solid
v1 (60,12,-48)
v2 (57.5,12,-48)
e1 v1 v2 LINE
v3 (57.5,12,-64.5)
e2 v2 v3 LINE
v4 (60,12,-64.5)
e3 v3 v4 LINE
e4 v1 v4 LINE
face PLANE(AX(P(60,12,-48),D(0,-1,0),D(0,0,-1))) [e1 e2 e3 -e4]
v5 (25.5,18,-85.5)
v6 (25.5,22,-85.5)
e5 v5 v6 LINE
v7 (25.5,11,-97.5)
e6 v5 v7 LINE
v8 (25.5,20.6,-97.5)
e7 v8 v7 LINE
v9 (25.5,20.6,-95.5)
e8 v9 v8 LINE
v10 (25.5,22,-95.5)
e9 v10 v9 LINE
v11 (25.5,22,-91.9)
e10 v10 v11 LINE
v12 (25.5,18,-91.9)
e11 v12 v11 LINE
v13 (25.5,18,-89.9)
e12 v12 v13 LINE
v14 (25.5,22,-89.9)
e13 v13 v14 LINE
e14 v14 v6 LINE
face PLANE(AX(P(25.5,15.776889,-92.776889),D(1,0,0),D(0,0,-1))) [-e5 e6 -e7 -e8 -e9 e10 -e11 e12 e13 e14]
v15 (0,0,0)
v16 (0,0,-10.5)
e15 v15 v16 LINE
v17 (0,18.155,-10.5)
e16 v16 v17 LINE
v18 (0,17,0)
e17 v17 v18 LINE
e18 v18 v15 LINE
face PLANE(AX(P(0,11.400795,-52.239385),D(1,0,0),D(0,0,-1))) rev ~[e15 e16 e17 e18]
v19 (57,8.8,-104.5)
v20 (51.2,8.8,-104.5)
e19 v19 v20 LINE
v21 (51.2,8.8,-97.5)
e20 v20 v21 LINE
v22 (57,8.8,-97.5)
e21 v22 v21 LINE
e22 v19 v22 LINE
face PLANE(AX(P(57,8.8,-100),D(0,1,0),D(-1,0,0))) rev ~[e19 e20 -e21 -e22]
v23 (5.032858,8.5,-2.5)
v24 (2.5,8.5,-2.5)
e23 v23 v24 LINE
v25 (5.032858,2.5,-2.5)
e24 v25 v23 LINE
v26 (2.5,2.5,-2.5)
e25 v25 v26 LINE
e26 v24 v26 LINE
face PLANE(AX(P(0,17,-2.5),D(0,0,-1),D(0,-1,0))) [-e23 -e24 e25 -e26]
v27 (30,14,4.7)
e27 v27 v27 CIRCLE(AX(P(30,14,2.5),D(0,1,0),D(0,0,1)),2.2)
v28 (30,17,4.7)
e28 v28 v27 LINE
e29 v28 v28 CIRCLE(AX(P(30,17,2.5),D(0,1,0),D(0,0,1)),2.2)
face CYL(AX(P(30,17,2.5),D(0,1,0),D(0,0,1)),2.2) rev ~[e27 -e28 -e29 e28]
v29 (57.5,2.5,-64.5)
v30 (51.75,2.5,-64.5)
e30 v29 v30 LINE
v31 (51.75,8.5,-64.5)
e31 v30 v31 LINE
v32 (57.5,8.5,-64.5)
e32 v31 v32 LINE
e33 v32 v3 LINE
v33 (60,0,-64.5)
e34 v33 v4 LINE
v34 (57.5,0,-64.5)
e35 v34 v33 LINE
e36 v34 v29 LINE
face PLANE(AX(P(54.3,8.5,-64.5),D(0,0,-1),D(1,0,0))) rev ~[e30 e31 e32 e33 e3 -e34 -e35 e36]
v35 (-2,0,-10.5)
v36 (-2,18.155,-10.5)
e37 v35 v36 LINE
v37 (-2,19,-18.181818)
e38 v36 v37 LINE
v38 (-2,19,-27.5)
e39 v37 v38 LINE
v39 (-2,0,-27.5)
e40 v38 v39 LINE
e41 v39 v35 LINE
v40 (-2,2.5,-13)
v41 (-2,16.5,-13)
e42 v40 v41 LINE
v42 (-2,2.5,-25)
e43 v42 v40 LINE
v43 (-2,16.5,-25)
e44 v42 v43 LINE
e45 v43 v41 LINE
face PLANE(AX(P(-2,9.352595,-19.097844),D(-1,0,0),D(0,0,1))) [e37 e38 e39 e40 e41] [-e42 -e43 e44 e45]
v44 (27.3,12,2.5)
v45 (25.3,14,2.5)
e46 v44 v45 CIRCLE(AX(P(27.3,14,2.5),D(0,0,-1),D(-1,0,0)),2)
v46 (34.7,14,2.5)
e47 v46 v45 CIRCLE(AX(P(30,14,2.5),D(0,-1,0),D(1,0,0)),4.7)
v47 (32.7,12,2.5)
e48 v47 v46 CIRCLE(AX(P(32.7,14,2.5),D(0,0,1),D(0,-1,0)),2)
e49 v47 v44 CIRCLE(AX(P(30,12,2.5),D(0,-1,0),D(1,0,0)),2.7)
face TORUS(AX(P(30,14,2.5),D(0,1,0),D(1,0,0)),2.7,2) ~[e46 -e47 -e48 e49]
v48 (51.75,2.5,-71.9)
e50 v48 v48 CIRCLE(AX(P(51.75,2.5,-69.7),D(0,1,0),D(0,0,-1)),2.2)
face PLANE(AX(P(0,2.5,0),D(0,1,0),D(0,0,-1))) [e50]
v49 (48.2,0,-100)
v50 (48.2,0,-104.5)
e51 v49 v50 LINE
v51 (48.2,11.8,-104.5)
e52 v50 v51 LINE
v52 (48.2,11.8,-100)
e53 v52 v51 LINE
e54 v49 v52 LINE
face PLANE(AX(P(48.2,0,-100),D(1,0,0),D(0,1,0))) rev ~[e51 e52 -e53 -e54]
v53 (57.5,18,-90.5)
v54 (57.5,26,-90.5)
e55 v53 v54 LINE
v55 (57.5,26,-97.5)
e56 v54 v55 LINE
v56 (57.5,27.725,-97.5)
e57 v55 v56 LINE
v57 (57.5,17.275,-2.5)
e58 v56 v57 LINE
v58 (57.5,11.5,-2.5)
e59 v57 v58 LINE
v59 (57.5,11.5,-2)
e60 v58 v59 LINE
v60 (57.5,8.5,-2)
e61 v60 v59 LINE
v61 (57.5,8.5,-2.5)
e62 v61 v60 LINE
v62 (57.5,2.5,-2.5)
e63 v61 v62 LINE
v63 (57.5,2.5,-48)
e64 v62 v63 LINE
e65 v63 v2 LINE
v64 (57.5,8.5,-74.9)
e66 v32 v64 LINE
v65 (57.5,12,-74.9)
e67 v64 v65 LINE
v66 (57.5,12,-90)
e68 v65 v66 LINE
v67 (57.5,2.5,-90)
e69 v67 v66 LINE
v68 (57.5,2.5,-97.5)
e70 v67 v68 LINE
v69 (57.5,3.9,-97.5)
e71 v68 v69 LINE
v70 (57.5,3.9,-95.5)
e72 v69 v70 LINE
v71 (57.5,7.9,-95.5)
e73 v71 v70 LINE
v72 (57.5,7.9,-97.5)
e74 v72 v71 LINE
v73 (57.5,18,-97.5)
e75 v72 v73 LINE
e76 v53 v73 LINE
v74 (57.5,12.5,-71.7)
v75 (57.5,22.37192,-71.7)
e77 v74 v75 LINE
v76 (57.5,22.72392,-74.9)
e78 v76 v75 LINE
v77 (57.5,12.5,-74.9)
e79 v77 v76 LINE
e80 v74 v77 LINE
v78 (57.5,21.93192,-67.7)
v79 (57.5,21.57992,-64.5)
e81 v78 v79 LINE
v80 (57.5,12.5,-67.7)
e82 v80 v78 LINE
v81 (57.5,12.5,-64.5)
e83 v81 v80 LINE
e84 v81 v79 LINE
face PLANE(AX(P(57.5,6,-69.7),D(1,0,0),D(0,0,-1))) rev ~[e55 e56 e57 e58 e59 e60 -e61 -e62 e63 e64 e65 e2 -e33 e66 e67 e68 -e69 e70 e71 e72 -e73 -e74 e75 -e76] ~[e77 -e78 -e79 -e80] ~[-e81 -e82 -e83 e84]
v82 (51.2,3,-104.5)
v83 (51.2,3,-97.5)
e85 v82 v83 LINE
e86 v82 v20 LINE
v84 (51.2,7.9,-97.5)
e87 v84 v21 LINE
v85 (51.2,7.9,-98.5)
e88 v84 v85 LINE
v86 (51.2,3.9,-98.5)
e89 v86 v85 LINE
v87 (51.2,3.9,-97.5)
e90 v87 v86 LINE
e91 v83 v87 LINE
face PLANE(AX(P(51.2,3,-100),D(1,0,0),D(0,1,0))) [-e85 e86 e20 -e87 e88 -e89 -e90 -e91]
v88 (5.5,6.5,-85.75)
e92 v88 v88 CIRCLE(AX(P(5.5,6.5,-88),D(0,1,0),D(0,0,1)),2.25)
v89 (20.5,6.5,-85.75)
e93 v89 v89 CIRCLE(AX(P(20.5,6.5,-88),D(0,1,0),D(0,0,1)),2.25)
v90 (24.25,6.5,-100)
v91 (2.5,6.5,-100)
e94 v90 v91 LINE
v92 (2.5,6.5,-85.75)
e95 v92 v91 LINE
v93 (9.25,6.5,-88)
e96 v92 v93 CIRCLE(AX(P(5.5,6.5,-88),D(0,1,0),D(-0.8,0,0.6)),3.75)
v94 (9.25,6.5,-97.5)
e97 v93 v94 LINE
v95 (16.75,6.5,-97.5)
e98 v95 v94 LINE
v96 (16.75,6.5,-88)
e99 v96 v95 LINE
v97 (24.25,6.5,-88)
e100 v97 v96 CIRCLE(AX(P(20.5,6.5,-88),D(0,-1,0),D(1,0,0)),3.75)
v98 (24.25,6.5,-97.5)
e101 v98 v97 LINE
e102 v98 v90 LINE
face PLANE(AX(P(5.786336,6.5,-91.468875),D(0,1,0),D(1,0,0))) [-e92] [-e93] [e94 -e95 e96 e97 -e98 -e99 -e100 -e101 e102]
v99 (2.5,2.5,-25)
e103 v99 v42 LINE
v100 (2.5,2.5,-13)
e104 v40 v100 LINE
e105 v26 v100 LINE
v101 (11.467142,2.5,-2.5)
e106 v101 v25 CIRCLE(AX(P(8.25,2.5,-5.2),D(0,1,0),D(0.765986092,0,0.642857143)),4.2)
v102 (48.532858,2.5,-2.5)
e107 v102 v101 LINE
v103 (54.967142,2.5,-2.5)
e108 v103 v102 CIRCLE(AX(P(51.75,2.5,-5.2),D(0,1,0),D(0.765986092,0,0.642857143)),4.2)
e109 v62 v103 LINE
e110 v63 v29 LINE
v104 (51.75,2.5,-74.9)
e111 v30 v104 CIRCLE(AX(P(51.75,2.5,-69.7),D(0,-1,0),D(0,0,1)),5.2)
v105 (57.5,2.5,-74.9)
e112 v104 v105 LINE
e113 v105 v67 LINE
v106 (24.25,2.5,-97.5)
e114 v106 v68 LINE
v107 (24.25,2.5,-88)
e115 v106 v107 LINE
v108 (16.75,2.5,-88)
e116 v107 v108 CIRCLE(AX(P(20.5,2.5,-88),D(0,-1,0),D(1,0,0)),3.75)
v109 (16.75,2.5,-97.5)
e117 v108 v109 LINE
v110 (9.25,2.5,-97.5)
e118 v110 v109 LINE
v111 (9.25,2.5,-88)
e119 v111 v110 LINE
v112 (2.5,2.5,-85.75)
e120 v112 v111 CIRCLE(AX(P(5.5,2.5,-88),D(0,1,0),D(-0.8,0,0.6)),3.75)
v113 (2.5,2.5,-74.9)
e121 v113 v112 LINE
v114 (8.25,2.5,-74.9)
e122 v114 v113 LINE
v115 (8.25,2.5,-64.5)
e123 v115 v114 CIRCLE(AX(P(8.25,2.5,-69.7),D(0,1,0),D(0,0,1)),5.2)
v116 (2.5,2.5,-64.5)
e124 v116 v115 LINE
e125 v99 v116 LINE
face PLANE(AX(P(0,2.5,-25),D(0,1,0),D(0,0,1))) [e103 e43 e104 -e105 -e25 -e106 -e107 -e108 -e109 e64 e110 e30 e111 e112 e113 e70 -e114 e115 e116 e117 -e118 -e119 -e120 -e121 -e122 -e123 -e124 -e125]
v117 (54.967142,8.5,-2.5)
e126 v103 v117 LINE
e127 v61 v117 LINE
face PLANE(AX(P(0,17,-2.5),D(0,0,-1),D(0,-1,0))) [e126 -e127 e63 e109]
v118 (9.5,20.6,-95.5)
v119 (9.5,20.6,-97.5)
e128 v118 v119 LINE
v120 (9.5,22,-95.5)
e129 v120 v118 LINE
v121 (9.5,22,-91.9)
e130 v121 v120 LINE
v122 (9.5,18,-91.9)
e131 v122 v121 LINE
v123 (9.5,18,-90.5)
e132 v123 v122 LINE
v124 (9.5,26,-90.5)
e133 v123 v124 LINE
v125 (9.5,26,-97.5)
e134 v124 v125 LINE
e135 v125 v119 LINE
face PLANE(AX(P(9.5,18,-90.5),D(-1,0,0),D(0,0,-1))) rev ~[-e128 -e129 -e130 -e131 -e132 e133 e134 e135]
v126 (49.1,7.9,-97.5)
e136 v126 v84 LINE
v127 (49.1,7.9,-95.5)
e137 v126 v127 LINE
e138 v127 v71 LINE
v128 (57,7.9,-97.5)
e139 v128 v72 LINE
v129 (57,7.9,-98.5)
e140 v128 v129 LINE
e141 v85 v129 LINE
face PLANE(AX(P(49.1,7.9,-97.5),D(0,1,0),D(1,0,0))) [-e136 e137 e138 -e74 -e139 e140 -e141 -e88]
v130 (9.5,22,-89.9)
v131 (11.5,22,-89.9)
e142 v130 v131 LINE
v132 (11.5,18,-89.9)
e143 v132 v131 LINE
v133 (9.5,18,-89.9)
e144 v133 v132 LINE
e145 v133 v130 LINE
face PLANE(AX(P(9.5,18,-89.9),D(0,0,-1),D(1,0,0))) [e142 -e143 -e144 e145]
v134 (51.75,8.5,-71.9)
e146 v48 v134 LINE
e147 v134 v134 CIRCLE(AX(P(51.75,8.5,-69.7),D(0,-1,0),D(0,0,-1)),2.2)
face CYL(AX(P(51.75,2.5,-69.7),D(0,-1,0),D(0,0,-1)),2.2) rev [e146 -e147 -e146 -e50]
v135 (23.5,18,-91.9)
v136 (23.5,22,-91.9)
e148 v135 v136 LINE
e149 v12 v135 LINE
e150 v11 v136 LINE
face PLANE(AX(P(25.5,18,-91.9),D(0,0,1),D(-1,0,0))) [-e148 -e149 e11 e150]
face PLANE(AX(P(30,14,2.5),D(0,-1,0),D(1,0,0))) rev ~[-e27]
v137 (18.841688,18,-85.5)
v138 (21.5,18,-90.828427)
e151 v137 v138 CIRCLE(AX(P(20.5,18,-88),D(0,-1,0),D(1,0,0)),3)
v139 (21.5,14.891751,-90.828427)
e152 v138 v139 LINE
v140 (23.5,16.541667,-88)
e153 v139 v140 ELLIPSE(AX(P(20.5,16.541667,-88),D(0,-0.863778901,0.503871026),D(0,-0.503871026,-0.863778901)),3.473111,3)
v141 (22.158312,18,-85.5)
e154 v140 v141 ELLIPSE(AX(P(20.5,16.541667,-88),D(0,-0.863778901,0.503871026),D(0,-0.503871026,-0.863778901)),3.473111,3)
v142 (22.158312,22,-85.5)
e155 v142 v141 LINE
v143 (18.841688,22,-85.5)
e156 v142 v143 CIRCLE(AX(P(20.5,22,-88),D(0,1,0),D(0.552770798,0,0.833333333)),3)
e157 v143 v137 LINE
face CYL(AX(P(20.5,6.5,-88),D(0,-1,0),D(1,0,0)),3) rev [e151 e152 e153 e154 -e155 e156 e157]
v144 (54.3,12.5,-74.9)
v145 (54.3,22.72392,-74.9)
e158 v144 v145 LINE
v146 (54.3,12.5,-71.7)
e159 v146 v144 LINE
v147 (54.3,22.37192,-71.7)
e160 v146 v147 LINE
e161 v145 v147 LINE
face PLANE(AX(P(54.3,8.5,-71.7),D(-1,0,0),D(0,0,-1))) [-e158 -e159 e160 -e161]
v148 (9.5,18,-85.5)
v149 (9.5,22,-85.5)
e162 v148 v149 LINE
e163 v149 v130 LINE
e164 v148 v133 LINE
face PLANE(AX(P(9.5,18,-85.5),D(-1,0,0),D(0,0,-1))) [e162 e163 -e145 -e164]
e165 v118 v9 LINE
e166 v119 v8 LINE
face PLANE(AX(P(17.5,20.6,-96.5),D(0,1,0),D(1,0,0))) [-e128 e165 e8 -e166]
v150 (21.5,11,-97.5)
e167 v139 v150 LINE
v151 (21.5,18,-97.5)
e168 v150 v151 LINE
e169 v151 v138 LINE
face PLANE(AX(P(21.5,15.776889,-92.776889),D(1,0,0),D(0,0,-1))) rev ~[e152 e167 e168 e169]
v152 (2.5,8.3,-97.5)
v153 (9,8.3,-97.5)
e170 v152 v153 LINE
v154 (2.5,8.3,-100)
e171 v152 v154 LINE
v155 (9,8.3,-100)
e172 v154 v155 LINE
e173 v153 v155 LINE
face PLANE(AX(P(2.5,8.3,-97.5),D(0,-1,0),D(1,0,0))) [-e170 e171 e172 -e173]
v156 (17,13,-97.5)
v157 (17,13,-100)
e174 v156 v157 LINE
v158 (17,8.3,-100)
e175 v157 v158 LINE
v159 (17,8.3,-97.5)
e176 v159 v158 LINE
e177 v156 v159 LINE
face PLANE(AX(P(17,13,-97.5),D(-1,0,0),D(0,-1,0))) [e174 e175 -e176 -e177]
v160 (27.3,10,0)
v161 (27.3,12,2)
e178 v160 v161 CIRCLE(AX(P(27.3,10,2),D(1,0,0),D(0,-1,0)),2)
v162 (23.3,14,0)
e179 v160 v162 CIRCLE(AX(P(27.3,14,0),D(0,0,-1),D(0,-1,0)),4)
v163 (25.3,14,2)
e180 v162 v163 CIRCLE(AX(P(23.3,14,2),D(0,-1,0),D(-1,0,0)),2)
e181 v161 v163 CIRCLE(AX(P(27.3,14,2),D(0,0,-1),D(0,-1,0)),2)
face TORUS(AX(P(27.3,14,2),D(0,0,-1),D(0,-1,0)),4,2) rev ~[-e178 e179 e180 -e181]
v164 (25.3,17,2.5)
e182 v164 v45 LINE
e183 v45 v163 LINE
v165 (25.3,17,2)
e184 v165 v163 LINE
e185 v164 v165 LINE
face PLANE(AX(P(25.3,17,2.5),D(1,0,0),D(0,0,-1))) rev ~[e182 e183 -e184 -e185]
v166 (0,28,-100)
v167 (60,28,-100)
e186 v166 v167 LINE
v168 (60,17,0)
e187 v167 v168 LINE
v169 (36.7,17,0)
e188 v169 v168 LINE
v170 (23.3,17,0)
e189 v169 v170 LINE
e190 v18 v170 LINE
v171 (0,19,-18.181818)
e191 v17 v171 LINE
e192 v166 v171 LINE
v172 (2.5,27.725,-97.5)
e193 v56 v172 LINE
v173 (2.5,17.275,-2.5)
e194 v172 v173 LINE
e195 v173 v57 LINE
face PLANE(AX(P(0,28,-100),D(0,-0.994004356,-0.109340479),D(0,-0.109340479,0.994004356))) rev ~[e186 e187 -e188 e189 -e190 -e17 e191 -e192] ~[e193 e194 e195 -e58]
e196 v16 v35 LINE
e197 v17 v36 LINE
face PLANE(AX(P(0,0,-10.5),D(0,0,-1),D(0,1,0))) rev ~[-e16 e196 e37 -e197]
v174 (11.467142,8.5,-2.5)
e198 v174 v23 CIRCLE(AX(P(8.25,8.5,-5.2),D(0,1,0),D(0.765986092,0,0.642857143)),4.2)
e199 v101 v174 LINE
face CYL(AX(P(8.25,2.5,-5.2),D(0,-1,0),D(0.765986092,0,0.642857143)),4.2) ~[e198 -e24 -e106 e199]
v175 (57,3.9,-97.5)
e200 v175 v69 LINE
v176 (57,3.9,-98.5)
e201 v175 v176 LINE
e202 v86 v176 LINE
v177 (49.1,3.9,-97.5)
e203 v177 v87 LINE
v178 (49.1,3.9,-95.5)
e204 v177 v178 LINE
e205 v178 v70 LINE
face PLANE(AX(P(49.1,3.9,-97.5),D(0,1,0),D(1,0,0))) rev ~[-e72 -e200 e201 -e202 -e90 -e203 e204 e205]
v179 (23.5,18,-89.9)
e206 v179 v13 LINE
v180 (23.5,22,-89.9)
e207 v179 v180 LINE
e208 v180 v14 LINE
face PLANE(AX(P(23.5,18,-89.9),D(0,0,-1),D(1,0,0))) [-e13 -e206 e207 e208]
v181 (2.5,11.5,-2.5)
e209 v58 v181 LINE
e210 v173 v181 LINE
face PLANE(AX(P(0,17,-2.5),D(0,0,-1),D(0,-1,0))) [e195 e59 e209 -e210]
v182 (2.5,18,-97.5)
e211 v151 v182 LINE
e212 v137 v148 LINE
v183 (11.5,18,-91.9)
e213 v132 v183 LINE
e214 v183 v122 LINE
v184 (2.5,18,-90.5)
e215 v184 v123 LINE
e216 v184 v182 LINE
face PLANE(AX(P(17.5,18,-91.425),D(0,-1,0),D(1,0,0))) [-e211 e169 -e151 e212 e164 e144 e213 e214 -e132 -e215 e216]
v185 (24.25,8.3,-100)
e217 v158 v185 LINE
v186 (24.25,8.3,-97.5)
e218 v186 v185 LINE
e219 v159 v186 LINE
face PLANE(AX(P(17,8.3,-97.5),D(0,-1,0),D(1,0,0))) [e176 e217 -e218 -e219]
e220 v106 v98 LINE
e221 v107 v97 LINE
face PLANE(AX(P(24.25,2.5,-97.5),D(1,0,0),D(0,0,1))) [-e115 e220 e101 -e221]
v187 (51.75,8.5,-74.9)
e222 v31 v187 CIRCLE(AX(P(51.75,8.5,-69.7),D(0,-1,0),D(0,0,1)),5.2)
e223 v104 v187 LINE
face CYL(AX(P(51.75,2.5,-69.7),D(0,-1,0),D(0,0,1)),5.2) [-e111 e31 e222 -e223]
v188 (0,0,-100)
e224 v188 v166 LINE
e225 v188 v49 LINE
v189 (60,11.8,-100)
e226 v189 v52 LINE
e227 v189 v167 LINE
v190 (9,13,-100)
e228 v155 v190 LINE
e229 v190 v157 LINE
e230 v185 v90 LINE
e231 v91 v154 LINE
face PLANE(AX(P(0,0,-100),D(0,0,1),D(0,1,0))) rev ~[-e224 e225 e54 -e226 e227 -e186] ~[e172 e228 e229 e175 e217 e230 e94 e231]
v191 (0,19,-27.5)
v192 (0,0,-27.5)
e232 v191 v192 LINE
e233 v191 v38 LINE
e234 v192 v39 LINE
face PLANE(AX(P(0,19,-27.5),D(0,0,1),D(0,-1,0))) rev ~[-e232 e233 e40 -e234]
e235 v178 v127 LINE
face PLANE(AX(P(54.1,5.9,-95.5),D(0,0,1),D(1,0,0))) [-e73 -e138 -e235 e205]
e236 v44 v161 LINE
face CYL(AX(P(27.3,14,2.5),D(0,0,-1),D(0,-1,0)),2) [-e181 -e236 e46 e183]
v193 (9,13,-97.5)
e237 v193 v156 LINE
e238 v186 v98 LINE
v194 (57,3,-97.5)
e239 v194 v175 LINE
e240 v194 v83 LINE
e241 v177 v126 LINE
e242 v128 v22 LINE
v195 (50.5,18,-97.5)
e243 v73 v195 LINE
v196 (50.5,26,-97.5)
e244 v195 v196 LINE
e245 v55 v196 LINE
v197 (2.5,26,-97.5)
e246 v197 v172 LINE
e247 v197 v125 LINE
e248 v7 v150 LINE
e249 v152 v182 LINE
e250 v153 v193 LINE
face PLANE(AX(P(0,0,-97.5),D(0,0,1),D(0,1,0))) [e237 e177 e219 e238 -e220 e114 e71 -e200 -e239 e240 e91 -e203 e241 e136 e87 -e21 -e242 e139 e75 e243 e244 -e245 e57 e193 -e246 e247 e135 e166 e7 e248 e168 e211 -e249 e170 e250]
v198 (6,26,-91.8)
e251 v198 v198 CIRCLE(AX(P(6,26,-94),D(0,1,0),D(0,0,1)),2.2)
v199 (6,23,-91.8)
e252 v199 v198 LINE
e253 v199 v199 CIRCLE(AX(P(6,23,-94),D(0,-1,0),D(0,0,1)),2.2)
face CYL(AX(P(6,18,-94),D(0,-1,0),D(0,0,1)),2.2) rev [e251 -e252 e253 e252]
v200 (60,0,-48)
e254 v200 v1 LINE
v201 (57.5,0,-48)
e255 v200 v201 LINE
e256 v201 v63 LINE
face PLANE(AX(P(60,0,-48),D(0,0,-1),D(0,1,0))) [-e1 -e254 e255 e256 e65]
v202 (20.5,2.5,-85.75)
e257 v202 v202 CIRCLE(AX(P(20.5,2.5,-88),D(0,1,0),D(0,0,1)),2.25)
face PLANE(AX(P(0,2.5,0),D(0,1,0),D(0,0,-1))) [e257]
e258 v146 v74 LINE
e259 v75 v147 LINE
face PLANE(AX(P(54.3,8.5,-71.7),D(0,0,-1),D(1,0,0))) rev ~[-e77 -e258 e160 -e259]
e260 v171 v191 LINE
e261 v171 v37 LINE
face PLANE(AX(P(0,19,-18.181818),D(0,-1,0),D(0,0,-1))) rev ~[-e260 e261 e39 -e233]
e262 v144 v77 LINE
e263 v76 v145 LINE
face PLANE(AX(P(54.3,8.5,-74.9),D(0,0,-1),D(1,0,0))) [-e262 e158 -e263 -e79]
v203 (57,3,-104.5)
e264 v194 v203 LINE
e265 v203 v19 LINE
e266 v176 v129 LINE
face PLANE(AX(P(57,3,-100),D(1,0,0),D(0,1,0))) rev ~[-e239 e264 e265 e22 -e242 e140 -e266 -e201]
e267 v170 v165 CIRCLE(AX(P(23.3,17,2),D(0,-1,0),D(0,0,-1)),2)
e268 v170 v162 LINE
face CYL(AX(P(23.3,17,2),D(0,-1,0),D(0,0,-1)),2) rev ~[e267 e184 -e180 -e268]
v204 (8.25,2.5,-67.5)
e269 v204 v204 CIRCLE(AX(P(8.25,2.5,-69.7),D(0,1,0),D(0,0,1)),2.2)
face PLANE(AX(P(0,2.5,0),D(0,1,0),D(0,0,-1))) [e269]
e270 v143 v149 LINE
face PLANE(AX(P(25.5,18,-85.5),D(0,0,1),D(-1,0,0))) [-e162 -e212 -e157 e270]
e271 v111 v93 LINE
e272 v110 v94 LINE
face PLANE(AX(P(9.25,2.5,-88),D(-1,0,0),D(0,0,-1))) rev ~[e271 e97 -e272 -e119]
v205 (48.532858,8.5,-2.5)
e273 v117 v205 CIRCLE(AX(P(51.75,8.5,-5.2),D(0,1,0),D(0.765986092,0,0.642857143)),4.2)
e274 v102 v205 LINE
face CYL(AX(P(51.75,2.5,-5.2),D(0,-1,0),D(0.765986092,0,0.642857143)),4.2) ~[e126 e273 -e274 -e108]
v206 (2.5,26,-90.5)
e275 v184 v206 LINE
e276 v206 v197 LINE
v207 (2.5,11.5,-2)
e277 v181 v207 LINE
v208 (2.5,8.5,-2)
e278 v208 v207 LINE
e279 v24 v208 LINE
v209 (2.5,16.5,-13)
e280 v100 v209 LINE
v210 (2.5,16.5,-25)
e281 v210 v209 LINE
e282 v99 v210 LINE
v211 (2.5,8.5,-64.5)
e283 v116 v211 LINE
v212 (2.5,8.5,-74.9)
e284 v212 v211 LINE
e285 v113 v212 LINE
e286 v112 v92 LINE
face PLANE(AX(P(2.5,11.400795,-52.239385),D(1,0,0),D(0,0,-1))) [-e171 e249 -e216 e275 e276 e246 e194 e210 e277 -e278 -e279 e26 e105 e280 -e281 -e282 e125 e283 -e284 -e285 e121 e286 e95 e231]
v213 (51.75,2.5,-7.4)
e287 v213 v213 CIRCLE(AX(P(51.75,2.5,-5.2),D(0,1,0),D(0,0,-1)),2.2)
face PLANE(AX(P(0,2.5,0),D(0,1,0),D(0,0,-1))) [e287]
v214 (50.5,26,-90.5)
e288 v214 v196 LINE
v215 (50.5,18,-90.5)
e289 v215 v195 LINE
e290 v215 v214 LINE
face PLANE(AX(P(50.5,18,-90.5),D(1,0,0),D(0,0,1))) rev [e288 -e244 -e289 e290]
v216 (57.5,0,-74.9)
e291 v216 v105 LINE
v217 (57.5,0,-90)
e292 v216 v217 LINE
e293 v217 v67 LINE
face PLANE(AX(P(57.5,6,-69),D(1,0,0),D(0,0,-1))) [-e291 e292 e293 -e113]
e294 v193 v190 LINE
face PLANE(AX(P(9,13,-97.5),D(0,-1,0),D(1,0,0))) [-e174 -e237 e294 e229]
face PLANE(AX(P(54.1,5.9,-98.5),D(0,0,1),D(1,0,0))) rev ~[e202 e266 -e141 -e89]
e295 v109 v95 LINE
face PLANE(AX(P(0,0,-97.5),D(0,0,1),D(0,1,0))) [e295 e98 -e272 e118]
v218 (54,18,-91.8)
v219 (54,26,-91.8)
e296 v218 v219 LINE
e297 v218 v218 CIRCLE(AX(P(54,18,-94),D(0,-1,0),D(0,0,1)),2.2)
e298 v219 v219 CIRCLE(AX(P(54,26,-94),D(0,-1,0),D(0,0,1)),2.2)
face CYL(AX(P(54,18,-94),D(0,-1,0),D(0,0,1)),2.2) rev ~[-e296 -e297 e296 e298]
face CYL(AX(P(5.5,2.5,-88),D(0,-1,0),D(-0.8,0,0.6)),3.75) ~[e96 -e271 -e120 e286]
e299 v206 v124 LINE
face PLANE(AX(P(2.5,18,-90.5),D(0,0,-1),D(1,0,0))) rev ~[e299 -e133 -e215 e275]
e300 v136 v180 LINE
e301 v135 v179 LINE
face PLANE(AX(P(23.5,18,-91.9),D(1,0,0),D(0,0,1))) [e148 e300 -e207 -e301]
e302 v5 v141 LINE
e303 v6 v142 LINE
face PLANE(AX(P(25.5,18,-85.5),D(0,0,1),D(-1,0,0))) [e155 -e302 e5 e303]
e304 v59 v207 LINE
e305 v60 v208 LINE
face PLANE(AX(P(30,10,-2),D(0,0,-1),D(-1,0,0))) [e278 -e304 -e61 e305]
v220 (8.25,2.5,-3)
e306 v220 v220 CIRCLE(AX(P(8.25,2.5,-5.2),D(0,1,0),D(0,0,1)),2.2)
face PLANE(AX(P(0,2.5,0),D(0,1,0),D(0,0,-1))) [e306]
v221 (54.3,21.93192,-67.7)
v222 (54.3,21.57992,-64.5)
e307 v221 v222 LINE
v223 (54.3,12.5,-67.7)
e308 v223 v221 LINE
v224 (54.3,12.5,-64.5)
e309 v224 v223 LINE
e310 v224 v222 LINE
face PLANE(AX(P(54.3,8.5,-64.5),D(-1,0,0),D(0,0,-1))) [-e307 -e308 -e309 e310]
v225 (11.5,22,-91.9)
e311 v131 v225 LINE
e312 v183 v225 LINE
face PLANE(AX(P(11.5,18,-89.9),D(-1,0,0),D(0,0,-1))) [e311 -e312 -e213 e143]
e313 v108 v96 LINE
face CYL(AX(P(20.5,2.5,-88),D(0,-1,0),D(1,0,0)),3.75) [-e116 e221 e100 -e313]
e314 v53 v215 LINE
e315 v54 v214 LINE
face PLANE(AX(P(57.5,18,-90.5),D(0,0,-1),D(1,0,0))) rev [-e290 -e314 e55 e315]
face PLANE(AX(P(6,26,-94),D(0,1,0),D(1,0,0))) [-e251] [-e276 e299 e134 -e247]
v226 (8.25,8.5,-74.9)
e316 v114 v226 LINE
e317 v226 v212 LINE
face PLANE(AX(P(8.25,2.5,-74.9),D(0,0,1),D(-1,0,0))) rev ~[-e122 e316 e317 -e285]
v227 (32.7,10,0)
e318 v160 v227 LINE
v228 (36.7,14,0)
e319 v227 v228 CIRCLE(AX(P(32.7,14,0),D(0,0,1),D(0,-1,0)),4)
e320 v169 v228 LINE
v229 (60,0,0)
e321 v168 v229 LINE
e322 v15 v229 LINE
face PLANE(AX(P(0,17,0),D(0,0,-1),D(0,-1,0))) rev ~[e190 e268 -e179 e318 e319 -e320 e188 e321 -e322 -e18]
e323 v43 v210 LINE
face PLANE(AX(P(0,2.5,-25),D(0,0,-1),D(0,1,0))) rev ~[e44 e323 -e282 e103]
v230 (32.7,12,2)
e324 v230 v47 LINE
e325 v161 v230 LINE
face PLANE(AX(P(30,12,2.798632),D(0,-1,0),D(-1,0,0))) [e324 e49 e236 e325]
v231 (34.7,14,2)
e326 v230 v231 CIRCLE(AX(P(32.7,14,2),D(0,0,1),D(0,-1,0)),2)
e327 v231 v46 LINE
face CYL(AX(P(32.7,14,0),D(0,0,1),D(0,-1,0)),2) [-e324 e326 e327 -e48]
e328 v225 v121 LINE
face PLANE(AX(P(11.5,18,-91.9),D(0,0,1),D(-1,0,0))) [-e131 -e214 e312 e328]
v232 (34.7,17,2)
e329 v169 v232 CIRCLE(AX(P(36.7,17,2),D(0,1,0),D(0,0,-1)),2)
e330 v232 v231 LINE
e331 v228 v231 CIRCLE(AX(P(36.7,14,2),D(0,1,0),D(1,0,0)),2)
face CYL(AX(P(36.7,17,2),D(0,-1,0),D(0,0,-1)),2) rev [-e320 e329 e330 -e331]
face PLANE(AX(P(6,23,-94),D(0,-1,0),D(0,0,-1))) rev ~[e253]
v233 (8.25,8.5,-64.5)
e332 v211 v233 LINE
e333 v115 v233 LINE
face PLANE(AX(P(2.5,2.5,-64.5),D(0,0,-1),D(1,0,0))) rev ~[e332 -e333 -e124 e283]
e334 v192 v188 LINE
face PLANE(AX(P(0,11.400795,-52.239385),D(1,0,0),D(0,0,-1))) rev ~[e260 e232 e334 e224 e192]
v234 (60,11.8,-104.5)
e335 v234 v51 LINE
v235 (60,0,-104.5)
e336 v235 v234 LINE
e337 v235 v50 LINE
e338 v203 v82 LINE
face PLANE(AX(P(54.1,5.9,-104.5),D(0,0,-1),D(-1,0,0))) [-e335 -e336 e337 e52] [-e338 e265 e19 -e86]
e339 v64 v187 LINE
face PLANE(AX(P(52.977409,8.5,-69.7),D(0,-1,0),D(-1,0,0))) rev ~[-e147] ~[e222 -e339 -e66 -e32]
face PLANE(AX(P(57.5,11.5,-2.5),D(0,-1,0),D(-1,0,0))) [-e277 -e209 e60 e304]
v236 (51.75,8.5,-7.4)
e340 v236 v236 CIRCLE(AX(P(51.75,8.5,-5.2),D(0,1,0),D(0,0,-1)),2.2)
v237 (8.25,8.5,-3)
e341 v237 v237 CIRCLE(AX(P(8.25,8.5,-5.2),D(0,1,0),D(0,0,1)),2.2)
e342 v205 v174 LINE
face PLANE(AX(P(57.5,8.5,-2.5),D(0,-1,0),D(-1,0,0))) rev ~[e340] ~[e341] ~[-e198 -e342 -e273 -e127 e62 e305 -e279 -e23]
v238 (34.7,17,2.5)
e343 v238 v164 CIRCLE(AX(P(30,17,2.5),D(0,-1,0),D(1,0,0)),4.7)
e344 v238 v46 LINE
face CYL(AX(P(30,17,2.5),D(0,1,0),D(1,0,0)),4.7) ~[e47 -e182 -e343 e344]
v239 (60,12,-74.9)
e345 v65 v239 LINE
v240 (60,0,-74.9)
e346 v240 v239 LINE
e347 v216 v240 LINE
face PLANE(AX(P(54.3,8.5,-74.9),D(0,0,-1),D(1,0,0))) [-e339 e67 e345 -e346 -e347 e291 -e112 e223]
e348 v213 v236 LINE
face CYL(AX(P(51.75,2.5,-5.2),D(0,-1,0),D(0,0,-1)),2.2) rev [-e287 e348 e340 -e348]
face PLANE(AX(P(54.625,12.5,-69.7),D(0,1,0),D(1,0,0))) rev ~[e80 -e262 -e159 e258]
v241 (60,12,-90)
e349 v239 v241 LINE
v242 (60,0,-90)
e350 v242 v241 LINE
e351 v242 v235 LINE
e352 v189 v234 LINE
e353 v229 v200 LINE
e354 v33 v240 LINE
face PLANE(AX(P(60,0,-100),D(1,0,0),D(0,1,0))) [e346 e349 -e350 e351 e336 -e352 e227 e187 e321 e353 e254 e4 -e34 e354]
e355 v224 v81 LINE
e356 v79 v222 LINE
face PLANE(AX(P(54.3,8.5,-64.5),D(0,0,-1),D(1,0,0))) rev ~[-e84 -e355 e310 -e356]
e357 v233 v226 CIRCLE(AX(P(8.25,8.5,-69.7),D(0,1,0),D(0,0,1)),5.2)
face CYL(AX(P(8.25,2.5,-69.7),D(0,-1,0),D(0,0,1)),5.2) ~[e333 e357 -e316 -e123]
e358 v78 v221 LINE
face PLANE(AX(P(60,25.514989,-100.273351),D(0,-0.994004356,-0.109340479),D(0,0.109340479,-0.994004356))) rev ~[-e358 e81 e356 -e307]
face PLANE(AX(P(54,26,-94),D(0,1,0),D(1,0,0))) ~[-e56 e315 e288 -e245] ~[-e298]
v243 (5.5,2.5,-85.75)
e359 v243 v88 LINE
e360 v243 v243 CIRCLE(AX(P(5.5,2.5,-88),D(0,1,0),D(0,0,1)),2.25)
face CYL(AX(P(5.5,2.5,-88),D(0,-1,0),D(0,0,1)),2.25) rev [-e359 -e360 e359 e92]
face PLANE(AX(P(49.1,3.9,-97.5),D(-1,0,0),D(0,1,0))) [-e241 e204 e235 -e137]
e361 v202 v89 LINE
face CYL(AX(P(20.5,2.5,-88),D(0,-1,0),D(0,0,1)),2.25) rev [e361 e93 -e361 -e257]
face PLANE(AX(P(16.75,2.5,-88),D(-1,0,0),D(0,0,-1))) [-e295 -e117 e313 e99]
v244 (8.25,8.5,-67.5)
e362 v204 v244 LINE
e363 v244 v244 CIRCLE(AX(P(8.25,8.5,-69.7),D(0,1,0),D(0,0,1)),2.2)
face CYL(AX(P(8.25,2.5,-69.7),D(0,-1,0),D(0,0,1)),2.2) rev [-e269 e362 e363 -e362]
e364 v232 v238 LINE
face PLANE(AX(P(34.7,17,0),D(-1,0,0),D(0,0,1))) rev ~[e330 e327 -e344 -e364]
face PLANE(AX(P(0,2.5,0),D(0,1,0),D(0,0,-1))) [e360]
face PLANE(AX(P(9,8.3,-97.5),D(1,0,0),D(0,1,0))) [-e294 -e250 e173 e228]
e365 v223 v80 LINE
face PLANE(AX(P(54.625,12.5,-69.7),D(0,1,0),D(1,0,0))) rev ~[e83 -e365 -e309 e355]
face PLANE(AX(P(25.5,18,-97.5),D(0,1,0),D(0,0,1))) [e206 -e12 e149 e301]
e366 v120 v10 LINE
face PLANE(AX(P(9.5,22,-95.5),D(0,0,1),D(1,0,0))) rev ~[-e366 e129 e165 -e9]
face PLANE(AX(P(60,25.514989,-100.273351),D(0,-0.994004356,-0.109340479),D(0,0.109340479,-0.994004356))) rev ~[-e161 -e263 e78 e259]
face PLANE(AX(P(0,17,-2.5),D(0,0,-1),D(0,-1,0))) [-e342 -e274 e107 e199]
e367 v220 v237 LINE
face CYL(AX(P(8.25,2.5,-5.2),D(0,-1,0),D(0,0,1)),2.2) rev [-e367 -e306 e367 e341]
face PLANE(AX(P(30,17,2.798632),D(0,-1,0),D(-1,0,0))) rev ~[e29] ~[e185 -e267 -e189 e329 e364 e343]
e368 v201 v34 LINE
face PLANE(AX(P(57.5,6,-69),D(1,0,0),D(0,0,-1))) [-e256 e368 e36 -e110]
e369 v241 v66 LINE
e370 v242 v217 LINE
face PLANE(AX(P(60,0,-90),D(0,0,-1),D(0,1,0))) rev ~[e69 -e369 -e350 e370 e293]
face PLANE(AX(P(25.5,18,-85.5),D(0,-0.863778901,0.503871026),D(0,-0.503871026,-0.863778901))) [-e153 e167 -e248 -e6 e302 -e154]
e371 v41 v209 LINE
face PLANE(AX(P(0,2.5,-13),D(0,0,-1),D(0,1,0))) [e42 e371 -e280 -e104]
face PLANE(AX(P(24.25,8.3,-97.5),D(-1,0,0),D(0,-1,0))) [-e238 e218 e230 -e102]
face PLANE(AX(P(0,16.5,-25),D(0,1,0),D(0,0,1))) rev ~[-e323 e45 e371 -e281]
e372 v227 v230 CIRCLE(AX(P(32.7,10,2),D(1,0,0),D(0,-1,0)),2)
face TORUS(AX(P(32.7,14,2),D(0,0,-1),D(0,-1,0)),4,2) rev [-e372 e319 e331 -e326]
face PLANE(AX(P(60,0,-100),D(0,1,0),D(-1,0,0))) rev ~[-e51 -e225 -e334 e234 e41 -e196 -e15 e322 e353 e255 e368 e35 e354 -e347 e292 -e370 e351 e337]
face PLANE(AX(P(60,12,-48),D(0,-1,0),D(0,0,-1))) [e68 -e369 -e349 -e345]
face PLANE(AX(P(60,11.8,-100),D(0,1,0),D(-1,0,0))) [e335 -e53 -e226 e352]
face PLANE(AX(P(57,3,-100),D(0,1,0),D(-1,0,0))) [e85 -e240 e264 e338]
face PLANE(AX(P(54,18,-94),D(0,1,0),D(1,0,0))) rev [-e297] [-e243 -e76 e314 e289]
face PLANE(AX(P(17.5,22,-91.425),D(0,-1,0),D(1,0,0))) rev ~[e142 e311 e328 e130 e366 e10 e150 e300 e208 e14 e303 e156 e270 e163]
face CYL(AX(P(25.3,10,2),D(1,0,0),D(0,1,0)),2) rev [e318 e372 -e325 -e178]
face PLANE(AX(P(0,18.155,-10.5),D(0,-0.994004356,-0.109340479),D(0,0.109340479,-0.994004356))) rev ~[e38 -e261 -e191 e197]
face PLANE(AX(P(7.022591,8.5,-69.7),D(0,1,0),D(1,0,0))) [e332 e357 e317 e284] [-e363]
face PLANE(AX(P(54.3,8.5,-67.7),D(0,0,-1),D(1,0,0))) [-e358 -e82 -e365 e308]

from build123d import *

# Parameters (mm, degrees)
EXTRUDE_1_DEPTH     = 60
SHELL_1_T           = -2.5
SKETCH_3_R          = 2.25
EXTRUDE_3_DEPTH     = 4
CUT_EXTRUDE_1_DEPTH = 118.856904762
SKETCH_5_R          = 2.2
EXTRUDE_4_DEPTH     = 6
SKETCH_7_W          = 42
SKETCH_7_H          = 12
CUT_EXTRUDE_3_DEPTH = 2.5
SKETCH_8_W          = 10.4
SKETCH_8_H          = 12
EXTRUDE_5_DEPTH     = 2.5
SKETCH_9_W          = 7
SKETCH_9_H          = 7
SKETCH_9_R          = 2.2
EXTRUDE_6_DEPTH     = 8
SKETCH_10_R         = 2.2
EXTRUDE_7_DEPTH     = 5
EXTRUDE_8_DEPTH     = 4
EXTRUDE_10_DEPTH    = 4
SKETCH_14_R         = 3
CUT_EXTRUDE_4_DEPTH = 119.584358159
SKETCH_15_W         = 16
SKETCH_15_H         = 2
CUT_EXTRUDE_5_DEPTH = 1.4
CUT_EXTRUDE_6_REACH = 121.933
SKETCH_16_W         = 12
SKETCH_16_H         = 14
SKETCH_17_W         = 12
SKETCH_17_H         = 14
EXTRUDE_14_DEPTH    = 2
EXTRUDE_15_REACH    = 120.238
SKETCH_18_W         = 3.2
SKETCH_18_H         = 3.2
SKETCH_19_W         = 5.75
SKETCH_19_H         = 10.4
CUT_EXTRUDE_7_DEPTH = 4
SKETCH_20_W         = 55
SKETCH_20_H         = 3
CUT_EXTRUDE_8_DEPTH = 0.5
SKETCH_22_R         = 2.2
EXTRUDE_17_DEPTH    = 5
SKETCH_23_R         = 2.897416755
EXTRUDE_18_DEPTH    = 2
FILLET_1_R          = 2
CUT_EXTRUDE_9_REACH = 127.999
SKETCH_25_W         = 5.8
SKETCH_25_H         = 5.8
SKETCH_26_W         = 5.8
SKETCH_26_H         = 4
EXTRUDE_19_DEPTH    = 1
SKETCH_27_W         = 10
SKETCH_27_H         = 4
EXTRUDE_20_DEPTH    = 2
SKETCH_28_W         = 11.8
SKETCH_28_H         = 11.8
SKETCH_28_W_2       = 5.8
SKETCH_28_H_2       = 5.8
EXTRUDE_23_DEPTH    = 4.5


with BuildPart() as part:
    # 草图1 → 凸台-拉伸1 (new body)
    with BuildSketch(Plane(origin=(0, 0, 0), x_dir=(0, 0, -1), z_dir=(1, 0, 0))):
        Polygon((0, 0), (100, 0), (100, 28), (0, 17), align=None)
    extrude(amount=EXTRUDE_1_DEPTH)

    # 抽壳1
    shell_1_openings = [part.faces().sort_by_distance(p)[0] for p in [
        (30, 22.5, -50),
    ]]
    offset(amount=SHELL_1_T, openings=shell_1_openings, kind=Kind.INTERSECTION)

    # 草图3 → 凸台-拉伸3 (add)
    # profile 1 of 2: a face of its own
    with BuildSketch(Plane(origin=(0, 2.5, 0), x_dir=(1, 0, 0), z_dir=(0, 1, 0))):
        with BuildLine():
            Line((2.5, 97.5), (2.5, 85.75))
            ThreePointArc((2.5, 85.75), (6.685854123, 84.442437632), (9.25, 88))
            Line((9.25, 88), (9.25, 97.5))
            Line((9.25, 97.5), (2.5, 97.5))
        make_face()
        with Locations(Location((5.5, 88, 0), (0, 0, 270))):
            Circle(SKETCH_3_R, mode=Mode.SUBTRACT)
    # profile 2 of 2: a face of its own
    with BuildSketch(Plane(origin=(0, 2.5, 0), x_dir=(1, 0, 0), z_dir=(0, 1, 0))):
        with BuildLine():
            Line((16.75, 88), (16.75, 97.5))
            Line((16.75, 97.5), (24.25, 97.5))
            Line((24.25, 97.5), (24.25, 88))
            ThreePointArc((24.25, 88), (20.5, 84.25), (16.75, 88))
        make_face()
        with Locations(Location((20.5, 88, 0), (0, 0, 270))):
            Circle(SKETCH_3_R, mode=Mode.SUBTRACT)
    extrude(amount=EXTRUDE_3_DEPTH)

    # 草图4 → 切除-拉伸1 (cut, through all)
    with BuildSketch(Plane.XY.offset(-97.5)):
        Polygon((17, 8.3), (24.25, 8.3), (24.25, 6.5), (2.5, 6.5), (2.5, 8.3), (9, 8.3), (9, 13), (17, 13), align=None)
    extrude(amount=-CUT_EXTRUDE_1_DEPTH, mode=Mode.SUBTRACT)

    # 草图5 → 凸台-拉伸4 (add)
    # profile 1 of 4: a face of its own
    with BuildSketch(Plane(origin=(0, 2.5, 0), x_dir=(1, 0, 0), z_dir=(0, 1, 0))):
        with BuildLine():
            Line((5.032858412, 2.5), (11.467141588, 2.5))
            ThreePointArc((11.467141588, 2.5), (8.25, 9.4), (5.032858412, 2.5))
        make_face()
        with Locations(Location((8.25, 5.2, 0), (0, 0, 270))):
            Circle(SKETCH_5_R, mode=Mode.SUBTRACT)
    # profile 2 of 4: a face of its own
    with BuildSketch(Plane(origin=(0, 2.5, 0), x_dir=(1, 0, 0), z_dir=(0, 1, 0))):
        with BuildLine():
            Line((48.532858412, 2.5), (54.967141588, 2.5))
            ThreePointArc((54.967141588, 2.5), (51.75, 9.4), (48.532858412, 2.5))
        make_face()
        with Locations(Location((51.75, 5.2, 0), (0, 0, 90))):
            Circle(SKETCH_5_R, mode=Mode.SUBTRACT)
    # profile 3 of 4: a face of its own
    with BuildSketch(Plane(origin=(0, 2.5, 0), x_dir=(1, 0, 0), z_dir=(0, 1, 0))):
        with BuildLine():
            Line((8.25, 74.9), (2.5, 74.9))
            Line((2.5, 74.9), (2.5, 64.5))
            Line((2.5, 64.5), (8.25, 64.5))
            ThreePointArc((8.25, 64.5), (13.45, 69.7), (8.25, 74.9))
        make_face()
        with Locations(Location((8.25, 69.7, 0), (0, 0, 270))):
            Circle(SKETCH_5_R, mode=Mode.SUBTRACT)
    # profile 4 of 4: a face of its own
    with BuildSketch(Plane(origin=(0, 2.5, 0), x_dir=(1, 0, 0), z_dir=(0, 1, 0))):
        with BuildLine():
            Line((51.75, 74.9), (57.5, 74.9))
            Line((57.5, 74.9), (57.5, 64.5))
            Line((57.5, 64.5), (51.75, 64.5))
            ThreePointArc((51.75, 64.5), (46.55, 69.7), (51.75, 74.9))
        make_face()
        with Locations(Location((51.75, 69.7, 0), (0, 0, 90))):
            Circle(SKETCH_5_R, mode=Mode.SUBTRACT)
    extrude(amount=EXTRUDE_4_DEPTH)

    # 草图7 → 切除-拉伸3 (cut)
    with BuildSketch(Plane(origin=(60, 0, 0), x_dir=(0, 0, -1), z_dir=(1, 0, 0))):
        with Locations((69, 6)):
            Rectangle(SKETCH_7_W, SKETCH_7_H)
    extrude(amount=-CUT_EXTRUDE_3_DEPTH, mode=Mode.SUBTRACT)

    # 草图8 → 凸台-拉伸5 (add)
    with BuildSketch(Plane(origin=(57.5, 0, 0), x_dir=(0, 0, -1), z_dir=(1, 0, 0))):
        with Locations((69.7, 6)):
            Rectangle(SKETCH_8_W, SKETCH_8_H)
    extrude(amount=EXTRUDE_5_DEPTH)

    # 草图9 → 凸台-拉伸6 (add)
    with BuildSketch(Plane(origin=(0, 18, 0), x_dir=(1, 0, 0), z_dir=(0, 1, 0))):
        with Locations((6, 94)):
            Rectangle(SKETCH_9_W, SKETCH_9_H)
        with Locations(Location((6, 94, 0), (0, 0, 270))):
            Circle(SKETCH_9_R, mode=Mode.SUBTRACT)
    extrude_6 = extrude(amount=EXTRUDE_6_DEPTH)

    # 草图10 → 凸台-拉伸7 (add)
    with BuildSketch(Plane.XZ.offset(-18)):
        with Locations(Location((6, -94, 0), (0, 0, 270))):
            Circle(SKETCH_10_R)
    extrude(amount=-EXTRUDE_7_DEPTH)

    # 草图11 → 凸台-拉伸8 (add)
    with BuildSketch(Plane.XZ.offset(-18)):
        Polygon((9.5, -97.5), (25.5, -97.5), (25.5, -91.9), (23.5, -91.9), (23.5, -89.9), (25.5, -89.9), (25.5, -85.5), (9.5, -85.5), (9.5, -89.9), (11.5, -89.9), (11.5, -91.9), (9.5, -91.9), align=None)
    extrude(amount=-EXTRUDE_8_DEPTH)

    # 草图13 → 凸台-拉伸10 (add)
    with BuildSketch(Plane(origin=(25.5, 0, 0), x_dir=(0, 0, -1), z_dir=(1, 0, 0))):
        Polygon((85.5, 18), (97.5, 11), (97.5, 18), align=None)
    extrude(amount=-EXTRUDE_10_DEPTH)

    # 草图14 → 切除-拉伸4 (cut, through all)
    with BuildSketch(Plane(origin=(0, 6.5, 0), x_dir=(1, 0, 0), z_dir=(0, 1, 0))):
        with Locations((20.5, 88)):
            Circle(SKETCH_14_R)
    extrude(amount=CUT_EXTRUDE_4_DEPTH, mode=Mode.SUBTRACT)

    # 草图15 → 切除-拉伸5 (cut)
    with BuildSketch(Plane(origin=(0, 22, 0), x_dir=(1, 0, 0), z_dir=(0, 1, 0))):
        with Locations((17.5, 96.5)):
            Rectangle(SKETCH_15_W, SKETCH_15_H)
    extrude(amount=-CUT_EXTRUDE_5_DEPTH, mode=Mode.SUBTRACT)

    # 镜向2: 凸台-拉伸6 across plane
    add(extrude_6.mirror(Plane.ZY.offset(-30)))

    # 草图16 → 切除-拉伸6 (cut, up to next)
    with BuildSketch(Plane.ZY, mode=Mode.PRIVATE) as cut_extrude_6_sk1:
        with Locations((-19, 9.5)):
            Rectangle(SKETCH_16_W, SKETCH_16_H)
    cut_extrude_6_tool1 = extrude(cut_extrude_6_sk1.sketch, amount=-CUT_EXTRUDE_6_REACH, mode=Mode.PRIVATE) & part.part
    add(cut_extrude_6_tool1.solids().sort_by_distance((0, 9.5, -19))[0], mode=Mode.SUBTRACT)

    # 草图17 → 凸台-拉伸14 (add)
    with BuildSketch(Plane.ZY):
        Polygon((-27.5, 0), (-10.5, 0), (-10.5, 18.155), (-18.181818182, 19), (-27.5, 19), align=None)
        with Locations((-19, 9.5)):
            Rectangle(SKETCH_17_W, SKETCH_17_H, mode=Mode.SUBTRACT)
    extrude(amount=EXTRUDE_14_DEPTH)

    # 凸台-拉伸15: up to this plane
    extrude_15_end = Plane(origin=(60, 25.51498911, -100.273351198), z_dir=(0, -0.9940043559354329, -0.10934047915289762))
    # 草图18 → 凸台-拉伸15 (add, up to the surface)
    with BuildSketch(Plane(origin=(0, 8.5, 0), x_dir=(1, 0, 0), z_dir=(0, 1, 0)), mode=Mode.PRIVATE) as extrude_15_sk1:
        with Locations((55.9, 73.3)):
            Rectangle(SKETCH_18_W, SKETCH_18_H)
    extrude_15_tool1 = split(extrude(extrude_15_sk1.sketch, amount=EXTRUDE_15_REACH, mode=Mode.PRIVATE), bisect_by=extrude_15_end, keep=Keep.BOTH, mode=Mode.PRIVATE)
    add(extrude_15_tool1.solids().sort_by_distance((55.9, 8.5, -73.3))[0])
    # 草图18 → 凸台-拉伸15 (add, up to the surface)
    with BuildSketch(Plane(origin=(0, 8.5, 0), x_dir=(1, 0, 0), z_dir=(0, 1, 0)), mode=Mode.PRIVATE) as extrude_15_sk2:
        with Locations((55.9, 66.1)):
            Rectangle(SKETCH_18_W, SKETCH_18_H)
    extrude_15_tool2 = split(extrude(extrude_15_sk2.sketch, amount=EXTRUDE_15_REACH, mode=Mode.PRIVATE), bisect_by=extrude_15_end, keep=Keep.BOTH, mode=Mode.PRIVATE)
    add(extrude_15_tool2.solids().sort_by_distance((55.9, 8.5, -66.1))[0])

    # 草图19 → 切除-拉伸7 (cut)
    with BuildSketch(Plane(origin=(0, 8.5, 0), x_dir=(1, 0, 0), z_dir=(0, 1, 0))):
        with Locations((54.625, 69.7)):
            Rectangle(SKETCH_19_W, SKETCH_19_H)
    extrude(amount=CUT_EXTRUDE_7_DEPTH, mode=Mode.SUBTRACT)

    # 草图20 → 切除-拉伸8 (cut)
    with BuildSketch(Plane(origin=(0, 0, -2.5), x_dir=(-1, 0, 0), z_dir=(0, 0, -1))):
        with Locations((-30, 10)):
            Rectangle(SKETCH_20_W, SKETCH_20_H)
    extrude(amount=-CUT_EXTRUDE_8_DEPTH, mode=Mode.SUBTRACT)

    # 草图22 → 凸台-拉伸17 (add)
    with BuildSketch(Plane(origin=(0, 17, 0), x_dir=(1, 0, 0), z_dir=(0, 1, 0))):
        with BuildLine():
            Line((25.3, -2.5), (25.3, 0))
            Line((25.3, 0), (34.7, 0))
            Line((34.7, 0), (34.7, -2.5))
            ThreePointArc((34.7, -2.5), (30, -7.2), (25.3, -2.5))
        make_face()
        with Locations(Location((30, -2.5, 0), (0, 0, 270))):
            Circle(SKETCH_22_R, mode=Mode.SUBTRACT)
    extrude(amount=-EXTRUDE_17_DEPTH)

    # 草图23 → 凸台-拉伸18 (add)
    with BuildSketch(Plane.XZ.offset(-12)):
        with Locations((30, 2.5)):
            Circle(SKETCH_23_R)
    extrude(amount=-EXTRUDE_18_DEPTH)

    # 圆角1
    fillet_1_edges = [part.edges().sort_by_distance(p)[0] for p in [
        (30, 12, 7.2),
        (25.3, 12, 1.25),
        (30, 12, 0),
        (25.3, 14.5, 0),
        (34.7, 12, 1.25),
        (34.7, 14.5, 0),
    ]]
    fillet(fillet_1_edges, radius=FILLET_1_R)

    # 草图25 → 切除-拉伸9 (cut, up to next)
    with BuildSketch(Plane(origin=(0, 0, -100), x_dir=(-1, 0, 0), z_dir=(0, 0, -1)), mode=Mode.PRIVATE) as cut_extrude_9_sk1:
        with Locations((-54.1, 5.9)):
            Rectangle(SKETCH_25_W, SKETCH_25_H)
    cut_extrude_9_tool1 = extrude(cut_extrude_9_sk1.sketch, amount=-CUT_EXTRUDE_9_REACH, mode=Mode.PRIVATE) & part.part
    add(cut_extrude_9_tool1.solids().sort_by_distance((54.1, 5.9, -100))[0], mode=Mode.SUBTRACT)

    # 草图26 → 凸台-拉伸19 (add)
    with BuildSketch(Plane.XY.offset(-97.5)):
        with Locations((54.1, 5.9)):
            Rectangle(SKETCH_26_W, SKETCH_26_H)
    extrude(amount=-EXTRUDE_19_DEPTH)

    # 草图27 → 凸台-拉伸20 (add)
    with BuildSketch(Plane.XY.offset(-97.5)):
        with Locations((54.1, 5.9)):
            Rectangle(SKETCH_27_W, SKETCH_27_H)
    extrude(amount=EXTRUDE_20_DEPTH)

    # 草图28 → 凸台-拉伸23 (add)
    with BuildSketch(Plane(origin=(0, 0, -100), x_dir=(-1, 0, 0), z_dir=(0, 0, -1))):
        with Locations((-54.1, 5.9)):
            Rectangle(SKETCH_28_W, SKETCH_28_H)
        with Locations((-54.1, 5.9)):
            Rectangle(SKETCH_28_W_2, SKETCH_28_H_2, mode=Mode.SUBTRACT)
    extrude(amount=EXTRUDE_23_DEPTH)


solid = part.part
